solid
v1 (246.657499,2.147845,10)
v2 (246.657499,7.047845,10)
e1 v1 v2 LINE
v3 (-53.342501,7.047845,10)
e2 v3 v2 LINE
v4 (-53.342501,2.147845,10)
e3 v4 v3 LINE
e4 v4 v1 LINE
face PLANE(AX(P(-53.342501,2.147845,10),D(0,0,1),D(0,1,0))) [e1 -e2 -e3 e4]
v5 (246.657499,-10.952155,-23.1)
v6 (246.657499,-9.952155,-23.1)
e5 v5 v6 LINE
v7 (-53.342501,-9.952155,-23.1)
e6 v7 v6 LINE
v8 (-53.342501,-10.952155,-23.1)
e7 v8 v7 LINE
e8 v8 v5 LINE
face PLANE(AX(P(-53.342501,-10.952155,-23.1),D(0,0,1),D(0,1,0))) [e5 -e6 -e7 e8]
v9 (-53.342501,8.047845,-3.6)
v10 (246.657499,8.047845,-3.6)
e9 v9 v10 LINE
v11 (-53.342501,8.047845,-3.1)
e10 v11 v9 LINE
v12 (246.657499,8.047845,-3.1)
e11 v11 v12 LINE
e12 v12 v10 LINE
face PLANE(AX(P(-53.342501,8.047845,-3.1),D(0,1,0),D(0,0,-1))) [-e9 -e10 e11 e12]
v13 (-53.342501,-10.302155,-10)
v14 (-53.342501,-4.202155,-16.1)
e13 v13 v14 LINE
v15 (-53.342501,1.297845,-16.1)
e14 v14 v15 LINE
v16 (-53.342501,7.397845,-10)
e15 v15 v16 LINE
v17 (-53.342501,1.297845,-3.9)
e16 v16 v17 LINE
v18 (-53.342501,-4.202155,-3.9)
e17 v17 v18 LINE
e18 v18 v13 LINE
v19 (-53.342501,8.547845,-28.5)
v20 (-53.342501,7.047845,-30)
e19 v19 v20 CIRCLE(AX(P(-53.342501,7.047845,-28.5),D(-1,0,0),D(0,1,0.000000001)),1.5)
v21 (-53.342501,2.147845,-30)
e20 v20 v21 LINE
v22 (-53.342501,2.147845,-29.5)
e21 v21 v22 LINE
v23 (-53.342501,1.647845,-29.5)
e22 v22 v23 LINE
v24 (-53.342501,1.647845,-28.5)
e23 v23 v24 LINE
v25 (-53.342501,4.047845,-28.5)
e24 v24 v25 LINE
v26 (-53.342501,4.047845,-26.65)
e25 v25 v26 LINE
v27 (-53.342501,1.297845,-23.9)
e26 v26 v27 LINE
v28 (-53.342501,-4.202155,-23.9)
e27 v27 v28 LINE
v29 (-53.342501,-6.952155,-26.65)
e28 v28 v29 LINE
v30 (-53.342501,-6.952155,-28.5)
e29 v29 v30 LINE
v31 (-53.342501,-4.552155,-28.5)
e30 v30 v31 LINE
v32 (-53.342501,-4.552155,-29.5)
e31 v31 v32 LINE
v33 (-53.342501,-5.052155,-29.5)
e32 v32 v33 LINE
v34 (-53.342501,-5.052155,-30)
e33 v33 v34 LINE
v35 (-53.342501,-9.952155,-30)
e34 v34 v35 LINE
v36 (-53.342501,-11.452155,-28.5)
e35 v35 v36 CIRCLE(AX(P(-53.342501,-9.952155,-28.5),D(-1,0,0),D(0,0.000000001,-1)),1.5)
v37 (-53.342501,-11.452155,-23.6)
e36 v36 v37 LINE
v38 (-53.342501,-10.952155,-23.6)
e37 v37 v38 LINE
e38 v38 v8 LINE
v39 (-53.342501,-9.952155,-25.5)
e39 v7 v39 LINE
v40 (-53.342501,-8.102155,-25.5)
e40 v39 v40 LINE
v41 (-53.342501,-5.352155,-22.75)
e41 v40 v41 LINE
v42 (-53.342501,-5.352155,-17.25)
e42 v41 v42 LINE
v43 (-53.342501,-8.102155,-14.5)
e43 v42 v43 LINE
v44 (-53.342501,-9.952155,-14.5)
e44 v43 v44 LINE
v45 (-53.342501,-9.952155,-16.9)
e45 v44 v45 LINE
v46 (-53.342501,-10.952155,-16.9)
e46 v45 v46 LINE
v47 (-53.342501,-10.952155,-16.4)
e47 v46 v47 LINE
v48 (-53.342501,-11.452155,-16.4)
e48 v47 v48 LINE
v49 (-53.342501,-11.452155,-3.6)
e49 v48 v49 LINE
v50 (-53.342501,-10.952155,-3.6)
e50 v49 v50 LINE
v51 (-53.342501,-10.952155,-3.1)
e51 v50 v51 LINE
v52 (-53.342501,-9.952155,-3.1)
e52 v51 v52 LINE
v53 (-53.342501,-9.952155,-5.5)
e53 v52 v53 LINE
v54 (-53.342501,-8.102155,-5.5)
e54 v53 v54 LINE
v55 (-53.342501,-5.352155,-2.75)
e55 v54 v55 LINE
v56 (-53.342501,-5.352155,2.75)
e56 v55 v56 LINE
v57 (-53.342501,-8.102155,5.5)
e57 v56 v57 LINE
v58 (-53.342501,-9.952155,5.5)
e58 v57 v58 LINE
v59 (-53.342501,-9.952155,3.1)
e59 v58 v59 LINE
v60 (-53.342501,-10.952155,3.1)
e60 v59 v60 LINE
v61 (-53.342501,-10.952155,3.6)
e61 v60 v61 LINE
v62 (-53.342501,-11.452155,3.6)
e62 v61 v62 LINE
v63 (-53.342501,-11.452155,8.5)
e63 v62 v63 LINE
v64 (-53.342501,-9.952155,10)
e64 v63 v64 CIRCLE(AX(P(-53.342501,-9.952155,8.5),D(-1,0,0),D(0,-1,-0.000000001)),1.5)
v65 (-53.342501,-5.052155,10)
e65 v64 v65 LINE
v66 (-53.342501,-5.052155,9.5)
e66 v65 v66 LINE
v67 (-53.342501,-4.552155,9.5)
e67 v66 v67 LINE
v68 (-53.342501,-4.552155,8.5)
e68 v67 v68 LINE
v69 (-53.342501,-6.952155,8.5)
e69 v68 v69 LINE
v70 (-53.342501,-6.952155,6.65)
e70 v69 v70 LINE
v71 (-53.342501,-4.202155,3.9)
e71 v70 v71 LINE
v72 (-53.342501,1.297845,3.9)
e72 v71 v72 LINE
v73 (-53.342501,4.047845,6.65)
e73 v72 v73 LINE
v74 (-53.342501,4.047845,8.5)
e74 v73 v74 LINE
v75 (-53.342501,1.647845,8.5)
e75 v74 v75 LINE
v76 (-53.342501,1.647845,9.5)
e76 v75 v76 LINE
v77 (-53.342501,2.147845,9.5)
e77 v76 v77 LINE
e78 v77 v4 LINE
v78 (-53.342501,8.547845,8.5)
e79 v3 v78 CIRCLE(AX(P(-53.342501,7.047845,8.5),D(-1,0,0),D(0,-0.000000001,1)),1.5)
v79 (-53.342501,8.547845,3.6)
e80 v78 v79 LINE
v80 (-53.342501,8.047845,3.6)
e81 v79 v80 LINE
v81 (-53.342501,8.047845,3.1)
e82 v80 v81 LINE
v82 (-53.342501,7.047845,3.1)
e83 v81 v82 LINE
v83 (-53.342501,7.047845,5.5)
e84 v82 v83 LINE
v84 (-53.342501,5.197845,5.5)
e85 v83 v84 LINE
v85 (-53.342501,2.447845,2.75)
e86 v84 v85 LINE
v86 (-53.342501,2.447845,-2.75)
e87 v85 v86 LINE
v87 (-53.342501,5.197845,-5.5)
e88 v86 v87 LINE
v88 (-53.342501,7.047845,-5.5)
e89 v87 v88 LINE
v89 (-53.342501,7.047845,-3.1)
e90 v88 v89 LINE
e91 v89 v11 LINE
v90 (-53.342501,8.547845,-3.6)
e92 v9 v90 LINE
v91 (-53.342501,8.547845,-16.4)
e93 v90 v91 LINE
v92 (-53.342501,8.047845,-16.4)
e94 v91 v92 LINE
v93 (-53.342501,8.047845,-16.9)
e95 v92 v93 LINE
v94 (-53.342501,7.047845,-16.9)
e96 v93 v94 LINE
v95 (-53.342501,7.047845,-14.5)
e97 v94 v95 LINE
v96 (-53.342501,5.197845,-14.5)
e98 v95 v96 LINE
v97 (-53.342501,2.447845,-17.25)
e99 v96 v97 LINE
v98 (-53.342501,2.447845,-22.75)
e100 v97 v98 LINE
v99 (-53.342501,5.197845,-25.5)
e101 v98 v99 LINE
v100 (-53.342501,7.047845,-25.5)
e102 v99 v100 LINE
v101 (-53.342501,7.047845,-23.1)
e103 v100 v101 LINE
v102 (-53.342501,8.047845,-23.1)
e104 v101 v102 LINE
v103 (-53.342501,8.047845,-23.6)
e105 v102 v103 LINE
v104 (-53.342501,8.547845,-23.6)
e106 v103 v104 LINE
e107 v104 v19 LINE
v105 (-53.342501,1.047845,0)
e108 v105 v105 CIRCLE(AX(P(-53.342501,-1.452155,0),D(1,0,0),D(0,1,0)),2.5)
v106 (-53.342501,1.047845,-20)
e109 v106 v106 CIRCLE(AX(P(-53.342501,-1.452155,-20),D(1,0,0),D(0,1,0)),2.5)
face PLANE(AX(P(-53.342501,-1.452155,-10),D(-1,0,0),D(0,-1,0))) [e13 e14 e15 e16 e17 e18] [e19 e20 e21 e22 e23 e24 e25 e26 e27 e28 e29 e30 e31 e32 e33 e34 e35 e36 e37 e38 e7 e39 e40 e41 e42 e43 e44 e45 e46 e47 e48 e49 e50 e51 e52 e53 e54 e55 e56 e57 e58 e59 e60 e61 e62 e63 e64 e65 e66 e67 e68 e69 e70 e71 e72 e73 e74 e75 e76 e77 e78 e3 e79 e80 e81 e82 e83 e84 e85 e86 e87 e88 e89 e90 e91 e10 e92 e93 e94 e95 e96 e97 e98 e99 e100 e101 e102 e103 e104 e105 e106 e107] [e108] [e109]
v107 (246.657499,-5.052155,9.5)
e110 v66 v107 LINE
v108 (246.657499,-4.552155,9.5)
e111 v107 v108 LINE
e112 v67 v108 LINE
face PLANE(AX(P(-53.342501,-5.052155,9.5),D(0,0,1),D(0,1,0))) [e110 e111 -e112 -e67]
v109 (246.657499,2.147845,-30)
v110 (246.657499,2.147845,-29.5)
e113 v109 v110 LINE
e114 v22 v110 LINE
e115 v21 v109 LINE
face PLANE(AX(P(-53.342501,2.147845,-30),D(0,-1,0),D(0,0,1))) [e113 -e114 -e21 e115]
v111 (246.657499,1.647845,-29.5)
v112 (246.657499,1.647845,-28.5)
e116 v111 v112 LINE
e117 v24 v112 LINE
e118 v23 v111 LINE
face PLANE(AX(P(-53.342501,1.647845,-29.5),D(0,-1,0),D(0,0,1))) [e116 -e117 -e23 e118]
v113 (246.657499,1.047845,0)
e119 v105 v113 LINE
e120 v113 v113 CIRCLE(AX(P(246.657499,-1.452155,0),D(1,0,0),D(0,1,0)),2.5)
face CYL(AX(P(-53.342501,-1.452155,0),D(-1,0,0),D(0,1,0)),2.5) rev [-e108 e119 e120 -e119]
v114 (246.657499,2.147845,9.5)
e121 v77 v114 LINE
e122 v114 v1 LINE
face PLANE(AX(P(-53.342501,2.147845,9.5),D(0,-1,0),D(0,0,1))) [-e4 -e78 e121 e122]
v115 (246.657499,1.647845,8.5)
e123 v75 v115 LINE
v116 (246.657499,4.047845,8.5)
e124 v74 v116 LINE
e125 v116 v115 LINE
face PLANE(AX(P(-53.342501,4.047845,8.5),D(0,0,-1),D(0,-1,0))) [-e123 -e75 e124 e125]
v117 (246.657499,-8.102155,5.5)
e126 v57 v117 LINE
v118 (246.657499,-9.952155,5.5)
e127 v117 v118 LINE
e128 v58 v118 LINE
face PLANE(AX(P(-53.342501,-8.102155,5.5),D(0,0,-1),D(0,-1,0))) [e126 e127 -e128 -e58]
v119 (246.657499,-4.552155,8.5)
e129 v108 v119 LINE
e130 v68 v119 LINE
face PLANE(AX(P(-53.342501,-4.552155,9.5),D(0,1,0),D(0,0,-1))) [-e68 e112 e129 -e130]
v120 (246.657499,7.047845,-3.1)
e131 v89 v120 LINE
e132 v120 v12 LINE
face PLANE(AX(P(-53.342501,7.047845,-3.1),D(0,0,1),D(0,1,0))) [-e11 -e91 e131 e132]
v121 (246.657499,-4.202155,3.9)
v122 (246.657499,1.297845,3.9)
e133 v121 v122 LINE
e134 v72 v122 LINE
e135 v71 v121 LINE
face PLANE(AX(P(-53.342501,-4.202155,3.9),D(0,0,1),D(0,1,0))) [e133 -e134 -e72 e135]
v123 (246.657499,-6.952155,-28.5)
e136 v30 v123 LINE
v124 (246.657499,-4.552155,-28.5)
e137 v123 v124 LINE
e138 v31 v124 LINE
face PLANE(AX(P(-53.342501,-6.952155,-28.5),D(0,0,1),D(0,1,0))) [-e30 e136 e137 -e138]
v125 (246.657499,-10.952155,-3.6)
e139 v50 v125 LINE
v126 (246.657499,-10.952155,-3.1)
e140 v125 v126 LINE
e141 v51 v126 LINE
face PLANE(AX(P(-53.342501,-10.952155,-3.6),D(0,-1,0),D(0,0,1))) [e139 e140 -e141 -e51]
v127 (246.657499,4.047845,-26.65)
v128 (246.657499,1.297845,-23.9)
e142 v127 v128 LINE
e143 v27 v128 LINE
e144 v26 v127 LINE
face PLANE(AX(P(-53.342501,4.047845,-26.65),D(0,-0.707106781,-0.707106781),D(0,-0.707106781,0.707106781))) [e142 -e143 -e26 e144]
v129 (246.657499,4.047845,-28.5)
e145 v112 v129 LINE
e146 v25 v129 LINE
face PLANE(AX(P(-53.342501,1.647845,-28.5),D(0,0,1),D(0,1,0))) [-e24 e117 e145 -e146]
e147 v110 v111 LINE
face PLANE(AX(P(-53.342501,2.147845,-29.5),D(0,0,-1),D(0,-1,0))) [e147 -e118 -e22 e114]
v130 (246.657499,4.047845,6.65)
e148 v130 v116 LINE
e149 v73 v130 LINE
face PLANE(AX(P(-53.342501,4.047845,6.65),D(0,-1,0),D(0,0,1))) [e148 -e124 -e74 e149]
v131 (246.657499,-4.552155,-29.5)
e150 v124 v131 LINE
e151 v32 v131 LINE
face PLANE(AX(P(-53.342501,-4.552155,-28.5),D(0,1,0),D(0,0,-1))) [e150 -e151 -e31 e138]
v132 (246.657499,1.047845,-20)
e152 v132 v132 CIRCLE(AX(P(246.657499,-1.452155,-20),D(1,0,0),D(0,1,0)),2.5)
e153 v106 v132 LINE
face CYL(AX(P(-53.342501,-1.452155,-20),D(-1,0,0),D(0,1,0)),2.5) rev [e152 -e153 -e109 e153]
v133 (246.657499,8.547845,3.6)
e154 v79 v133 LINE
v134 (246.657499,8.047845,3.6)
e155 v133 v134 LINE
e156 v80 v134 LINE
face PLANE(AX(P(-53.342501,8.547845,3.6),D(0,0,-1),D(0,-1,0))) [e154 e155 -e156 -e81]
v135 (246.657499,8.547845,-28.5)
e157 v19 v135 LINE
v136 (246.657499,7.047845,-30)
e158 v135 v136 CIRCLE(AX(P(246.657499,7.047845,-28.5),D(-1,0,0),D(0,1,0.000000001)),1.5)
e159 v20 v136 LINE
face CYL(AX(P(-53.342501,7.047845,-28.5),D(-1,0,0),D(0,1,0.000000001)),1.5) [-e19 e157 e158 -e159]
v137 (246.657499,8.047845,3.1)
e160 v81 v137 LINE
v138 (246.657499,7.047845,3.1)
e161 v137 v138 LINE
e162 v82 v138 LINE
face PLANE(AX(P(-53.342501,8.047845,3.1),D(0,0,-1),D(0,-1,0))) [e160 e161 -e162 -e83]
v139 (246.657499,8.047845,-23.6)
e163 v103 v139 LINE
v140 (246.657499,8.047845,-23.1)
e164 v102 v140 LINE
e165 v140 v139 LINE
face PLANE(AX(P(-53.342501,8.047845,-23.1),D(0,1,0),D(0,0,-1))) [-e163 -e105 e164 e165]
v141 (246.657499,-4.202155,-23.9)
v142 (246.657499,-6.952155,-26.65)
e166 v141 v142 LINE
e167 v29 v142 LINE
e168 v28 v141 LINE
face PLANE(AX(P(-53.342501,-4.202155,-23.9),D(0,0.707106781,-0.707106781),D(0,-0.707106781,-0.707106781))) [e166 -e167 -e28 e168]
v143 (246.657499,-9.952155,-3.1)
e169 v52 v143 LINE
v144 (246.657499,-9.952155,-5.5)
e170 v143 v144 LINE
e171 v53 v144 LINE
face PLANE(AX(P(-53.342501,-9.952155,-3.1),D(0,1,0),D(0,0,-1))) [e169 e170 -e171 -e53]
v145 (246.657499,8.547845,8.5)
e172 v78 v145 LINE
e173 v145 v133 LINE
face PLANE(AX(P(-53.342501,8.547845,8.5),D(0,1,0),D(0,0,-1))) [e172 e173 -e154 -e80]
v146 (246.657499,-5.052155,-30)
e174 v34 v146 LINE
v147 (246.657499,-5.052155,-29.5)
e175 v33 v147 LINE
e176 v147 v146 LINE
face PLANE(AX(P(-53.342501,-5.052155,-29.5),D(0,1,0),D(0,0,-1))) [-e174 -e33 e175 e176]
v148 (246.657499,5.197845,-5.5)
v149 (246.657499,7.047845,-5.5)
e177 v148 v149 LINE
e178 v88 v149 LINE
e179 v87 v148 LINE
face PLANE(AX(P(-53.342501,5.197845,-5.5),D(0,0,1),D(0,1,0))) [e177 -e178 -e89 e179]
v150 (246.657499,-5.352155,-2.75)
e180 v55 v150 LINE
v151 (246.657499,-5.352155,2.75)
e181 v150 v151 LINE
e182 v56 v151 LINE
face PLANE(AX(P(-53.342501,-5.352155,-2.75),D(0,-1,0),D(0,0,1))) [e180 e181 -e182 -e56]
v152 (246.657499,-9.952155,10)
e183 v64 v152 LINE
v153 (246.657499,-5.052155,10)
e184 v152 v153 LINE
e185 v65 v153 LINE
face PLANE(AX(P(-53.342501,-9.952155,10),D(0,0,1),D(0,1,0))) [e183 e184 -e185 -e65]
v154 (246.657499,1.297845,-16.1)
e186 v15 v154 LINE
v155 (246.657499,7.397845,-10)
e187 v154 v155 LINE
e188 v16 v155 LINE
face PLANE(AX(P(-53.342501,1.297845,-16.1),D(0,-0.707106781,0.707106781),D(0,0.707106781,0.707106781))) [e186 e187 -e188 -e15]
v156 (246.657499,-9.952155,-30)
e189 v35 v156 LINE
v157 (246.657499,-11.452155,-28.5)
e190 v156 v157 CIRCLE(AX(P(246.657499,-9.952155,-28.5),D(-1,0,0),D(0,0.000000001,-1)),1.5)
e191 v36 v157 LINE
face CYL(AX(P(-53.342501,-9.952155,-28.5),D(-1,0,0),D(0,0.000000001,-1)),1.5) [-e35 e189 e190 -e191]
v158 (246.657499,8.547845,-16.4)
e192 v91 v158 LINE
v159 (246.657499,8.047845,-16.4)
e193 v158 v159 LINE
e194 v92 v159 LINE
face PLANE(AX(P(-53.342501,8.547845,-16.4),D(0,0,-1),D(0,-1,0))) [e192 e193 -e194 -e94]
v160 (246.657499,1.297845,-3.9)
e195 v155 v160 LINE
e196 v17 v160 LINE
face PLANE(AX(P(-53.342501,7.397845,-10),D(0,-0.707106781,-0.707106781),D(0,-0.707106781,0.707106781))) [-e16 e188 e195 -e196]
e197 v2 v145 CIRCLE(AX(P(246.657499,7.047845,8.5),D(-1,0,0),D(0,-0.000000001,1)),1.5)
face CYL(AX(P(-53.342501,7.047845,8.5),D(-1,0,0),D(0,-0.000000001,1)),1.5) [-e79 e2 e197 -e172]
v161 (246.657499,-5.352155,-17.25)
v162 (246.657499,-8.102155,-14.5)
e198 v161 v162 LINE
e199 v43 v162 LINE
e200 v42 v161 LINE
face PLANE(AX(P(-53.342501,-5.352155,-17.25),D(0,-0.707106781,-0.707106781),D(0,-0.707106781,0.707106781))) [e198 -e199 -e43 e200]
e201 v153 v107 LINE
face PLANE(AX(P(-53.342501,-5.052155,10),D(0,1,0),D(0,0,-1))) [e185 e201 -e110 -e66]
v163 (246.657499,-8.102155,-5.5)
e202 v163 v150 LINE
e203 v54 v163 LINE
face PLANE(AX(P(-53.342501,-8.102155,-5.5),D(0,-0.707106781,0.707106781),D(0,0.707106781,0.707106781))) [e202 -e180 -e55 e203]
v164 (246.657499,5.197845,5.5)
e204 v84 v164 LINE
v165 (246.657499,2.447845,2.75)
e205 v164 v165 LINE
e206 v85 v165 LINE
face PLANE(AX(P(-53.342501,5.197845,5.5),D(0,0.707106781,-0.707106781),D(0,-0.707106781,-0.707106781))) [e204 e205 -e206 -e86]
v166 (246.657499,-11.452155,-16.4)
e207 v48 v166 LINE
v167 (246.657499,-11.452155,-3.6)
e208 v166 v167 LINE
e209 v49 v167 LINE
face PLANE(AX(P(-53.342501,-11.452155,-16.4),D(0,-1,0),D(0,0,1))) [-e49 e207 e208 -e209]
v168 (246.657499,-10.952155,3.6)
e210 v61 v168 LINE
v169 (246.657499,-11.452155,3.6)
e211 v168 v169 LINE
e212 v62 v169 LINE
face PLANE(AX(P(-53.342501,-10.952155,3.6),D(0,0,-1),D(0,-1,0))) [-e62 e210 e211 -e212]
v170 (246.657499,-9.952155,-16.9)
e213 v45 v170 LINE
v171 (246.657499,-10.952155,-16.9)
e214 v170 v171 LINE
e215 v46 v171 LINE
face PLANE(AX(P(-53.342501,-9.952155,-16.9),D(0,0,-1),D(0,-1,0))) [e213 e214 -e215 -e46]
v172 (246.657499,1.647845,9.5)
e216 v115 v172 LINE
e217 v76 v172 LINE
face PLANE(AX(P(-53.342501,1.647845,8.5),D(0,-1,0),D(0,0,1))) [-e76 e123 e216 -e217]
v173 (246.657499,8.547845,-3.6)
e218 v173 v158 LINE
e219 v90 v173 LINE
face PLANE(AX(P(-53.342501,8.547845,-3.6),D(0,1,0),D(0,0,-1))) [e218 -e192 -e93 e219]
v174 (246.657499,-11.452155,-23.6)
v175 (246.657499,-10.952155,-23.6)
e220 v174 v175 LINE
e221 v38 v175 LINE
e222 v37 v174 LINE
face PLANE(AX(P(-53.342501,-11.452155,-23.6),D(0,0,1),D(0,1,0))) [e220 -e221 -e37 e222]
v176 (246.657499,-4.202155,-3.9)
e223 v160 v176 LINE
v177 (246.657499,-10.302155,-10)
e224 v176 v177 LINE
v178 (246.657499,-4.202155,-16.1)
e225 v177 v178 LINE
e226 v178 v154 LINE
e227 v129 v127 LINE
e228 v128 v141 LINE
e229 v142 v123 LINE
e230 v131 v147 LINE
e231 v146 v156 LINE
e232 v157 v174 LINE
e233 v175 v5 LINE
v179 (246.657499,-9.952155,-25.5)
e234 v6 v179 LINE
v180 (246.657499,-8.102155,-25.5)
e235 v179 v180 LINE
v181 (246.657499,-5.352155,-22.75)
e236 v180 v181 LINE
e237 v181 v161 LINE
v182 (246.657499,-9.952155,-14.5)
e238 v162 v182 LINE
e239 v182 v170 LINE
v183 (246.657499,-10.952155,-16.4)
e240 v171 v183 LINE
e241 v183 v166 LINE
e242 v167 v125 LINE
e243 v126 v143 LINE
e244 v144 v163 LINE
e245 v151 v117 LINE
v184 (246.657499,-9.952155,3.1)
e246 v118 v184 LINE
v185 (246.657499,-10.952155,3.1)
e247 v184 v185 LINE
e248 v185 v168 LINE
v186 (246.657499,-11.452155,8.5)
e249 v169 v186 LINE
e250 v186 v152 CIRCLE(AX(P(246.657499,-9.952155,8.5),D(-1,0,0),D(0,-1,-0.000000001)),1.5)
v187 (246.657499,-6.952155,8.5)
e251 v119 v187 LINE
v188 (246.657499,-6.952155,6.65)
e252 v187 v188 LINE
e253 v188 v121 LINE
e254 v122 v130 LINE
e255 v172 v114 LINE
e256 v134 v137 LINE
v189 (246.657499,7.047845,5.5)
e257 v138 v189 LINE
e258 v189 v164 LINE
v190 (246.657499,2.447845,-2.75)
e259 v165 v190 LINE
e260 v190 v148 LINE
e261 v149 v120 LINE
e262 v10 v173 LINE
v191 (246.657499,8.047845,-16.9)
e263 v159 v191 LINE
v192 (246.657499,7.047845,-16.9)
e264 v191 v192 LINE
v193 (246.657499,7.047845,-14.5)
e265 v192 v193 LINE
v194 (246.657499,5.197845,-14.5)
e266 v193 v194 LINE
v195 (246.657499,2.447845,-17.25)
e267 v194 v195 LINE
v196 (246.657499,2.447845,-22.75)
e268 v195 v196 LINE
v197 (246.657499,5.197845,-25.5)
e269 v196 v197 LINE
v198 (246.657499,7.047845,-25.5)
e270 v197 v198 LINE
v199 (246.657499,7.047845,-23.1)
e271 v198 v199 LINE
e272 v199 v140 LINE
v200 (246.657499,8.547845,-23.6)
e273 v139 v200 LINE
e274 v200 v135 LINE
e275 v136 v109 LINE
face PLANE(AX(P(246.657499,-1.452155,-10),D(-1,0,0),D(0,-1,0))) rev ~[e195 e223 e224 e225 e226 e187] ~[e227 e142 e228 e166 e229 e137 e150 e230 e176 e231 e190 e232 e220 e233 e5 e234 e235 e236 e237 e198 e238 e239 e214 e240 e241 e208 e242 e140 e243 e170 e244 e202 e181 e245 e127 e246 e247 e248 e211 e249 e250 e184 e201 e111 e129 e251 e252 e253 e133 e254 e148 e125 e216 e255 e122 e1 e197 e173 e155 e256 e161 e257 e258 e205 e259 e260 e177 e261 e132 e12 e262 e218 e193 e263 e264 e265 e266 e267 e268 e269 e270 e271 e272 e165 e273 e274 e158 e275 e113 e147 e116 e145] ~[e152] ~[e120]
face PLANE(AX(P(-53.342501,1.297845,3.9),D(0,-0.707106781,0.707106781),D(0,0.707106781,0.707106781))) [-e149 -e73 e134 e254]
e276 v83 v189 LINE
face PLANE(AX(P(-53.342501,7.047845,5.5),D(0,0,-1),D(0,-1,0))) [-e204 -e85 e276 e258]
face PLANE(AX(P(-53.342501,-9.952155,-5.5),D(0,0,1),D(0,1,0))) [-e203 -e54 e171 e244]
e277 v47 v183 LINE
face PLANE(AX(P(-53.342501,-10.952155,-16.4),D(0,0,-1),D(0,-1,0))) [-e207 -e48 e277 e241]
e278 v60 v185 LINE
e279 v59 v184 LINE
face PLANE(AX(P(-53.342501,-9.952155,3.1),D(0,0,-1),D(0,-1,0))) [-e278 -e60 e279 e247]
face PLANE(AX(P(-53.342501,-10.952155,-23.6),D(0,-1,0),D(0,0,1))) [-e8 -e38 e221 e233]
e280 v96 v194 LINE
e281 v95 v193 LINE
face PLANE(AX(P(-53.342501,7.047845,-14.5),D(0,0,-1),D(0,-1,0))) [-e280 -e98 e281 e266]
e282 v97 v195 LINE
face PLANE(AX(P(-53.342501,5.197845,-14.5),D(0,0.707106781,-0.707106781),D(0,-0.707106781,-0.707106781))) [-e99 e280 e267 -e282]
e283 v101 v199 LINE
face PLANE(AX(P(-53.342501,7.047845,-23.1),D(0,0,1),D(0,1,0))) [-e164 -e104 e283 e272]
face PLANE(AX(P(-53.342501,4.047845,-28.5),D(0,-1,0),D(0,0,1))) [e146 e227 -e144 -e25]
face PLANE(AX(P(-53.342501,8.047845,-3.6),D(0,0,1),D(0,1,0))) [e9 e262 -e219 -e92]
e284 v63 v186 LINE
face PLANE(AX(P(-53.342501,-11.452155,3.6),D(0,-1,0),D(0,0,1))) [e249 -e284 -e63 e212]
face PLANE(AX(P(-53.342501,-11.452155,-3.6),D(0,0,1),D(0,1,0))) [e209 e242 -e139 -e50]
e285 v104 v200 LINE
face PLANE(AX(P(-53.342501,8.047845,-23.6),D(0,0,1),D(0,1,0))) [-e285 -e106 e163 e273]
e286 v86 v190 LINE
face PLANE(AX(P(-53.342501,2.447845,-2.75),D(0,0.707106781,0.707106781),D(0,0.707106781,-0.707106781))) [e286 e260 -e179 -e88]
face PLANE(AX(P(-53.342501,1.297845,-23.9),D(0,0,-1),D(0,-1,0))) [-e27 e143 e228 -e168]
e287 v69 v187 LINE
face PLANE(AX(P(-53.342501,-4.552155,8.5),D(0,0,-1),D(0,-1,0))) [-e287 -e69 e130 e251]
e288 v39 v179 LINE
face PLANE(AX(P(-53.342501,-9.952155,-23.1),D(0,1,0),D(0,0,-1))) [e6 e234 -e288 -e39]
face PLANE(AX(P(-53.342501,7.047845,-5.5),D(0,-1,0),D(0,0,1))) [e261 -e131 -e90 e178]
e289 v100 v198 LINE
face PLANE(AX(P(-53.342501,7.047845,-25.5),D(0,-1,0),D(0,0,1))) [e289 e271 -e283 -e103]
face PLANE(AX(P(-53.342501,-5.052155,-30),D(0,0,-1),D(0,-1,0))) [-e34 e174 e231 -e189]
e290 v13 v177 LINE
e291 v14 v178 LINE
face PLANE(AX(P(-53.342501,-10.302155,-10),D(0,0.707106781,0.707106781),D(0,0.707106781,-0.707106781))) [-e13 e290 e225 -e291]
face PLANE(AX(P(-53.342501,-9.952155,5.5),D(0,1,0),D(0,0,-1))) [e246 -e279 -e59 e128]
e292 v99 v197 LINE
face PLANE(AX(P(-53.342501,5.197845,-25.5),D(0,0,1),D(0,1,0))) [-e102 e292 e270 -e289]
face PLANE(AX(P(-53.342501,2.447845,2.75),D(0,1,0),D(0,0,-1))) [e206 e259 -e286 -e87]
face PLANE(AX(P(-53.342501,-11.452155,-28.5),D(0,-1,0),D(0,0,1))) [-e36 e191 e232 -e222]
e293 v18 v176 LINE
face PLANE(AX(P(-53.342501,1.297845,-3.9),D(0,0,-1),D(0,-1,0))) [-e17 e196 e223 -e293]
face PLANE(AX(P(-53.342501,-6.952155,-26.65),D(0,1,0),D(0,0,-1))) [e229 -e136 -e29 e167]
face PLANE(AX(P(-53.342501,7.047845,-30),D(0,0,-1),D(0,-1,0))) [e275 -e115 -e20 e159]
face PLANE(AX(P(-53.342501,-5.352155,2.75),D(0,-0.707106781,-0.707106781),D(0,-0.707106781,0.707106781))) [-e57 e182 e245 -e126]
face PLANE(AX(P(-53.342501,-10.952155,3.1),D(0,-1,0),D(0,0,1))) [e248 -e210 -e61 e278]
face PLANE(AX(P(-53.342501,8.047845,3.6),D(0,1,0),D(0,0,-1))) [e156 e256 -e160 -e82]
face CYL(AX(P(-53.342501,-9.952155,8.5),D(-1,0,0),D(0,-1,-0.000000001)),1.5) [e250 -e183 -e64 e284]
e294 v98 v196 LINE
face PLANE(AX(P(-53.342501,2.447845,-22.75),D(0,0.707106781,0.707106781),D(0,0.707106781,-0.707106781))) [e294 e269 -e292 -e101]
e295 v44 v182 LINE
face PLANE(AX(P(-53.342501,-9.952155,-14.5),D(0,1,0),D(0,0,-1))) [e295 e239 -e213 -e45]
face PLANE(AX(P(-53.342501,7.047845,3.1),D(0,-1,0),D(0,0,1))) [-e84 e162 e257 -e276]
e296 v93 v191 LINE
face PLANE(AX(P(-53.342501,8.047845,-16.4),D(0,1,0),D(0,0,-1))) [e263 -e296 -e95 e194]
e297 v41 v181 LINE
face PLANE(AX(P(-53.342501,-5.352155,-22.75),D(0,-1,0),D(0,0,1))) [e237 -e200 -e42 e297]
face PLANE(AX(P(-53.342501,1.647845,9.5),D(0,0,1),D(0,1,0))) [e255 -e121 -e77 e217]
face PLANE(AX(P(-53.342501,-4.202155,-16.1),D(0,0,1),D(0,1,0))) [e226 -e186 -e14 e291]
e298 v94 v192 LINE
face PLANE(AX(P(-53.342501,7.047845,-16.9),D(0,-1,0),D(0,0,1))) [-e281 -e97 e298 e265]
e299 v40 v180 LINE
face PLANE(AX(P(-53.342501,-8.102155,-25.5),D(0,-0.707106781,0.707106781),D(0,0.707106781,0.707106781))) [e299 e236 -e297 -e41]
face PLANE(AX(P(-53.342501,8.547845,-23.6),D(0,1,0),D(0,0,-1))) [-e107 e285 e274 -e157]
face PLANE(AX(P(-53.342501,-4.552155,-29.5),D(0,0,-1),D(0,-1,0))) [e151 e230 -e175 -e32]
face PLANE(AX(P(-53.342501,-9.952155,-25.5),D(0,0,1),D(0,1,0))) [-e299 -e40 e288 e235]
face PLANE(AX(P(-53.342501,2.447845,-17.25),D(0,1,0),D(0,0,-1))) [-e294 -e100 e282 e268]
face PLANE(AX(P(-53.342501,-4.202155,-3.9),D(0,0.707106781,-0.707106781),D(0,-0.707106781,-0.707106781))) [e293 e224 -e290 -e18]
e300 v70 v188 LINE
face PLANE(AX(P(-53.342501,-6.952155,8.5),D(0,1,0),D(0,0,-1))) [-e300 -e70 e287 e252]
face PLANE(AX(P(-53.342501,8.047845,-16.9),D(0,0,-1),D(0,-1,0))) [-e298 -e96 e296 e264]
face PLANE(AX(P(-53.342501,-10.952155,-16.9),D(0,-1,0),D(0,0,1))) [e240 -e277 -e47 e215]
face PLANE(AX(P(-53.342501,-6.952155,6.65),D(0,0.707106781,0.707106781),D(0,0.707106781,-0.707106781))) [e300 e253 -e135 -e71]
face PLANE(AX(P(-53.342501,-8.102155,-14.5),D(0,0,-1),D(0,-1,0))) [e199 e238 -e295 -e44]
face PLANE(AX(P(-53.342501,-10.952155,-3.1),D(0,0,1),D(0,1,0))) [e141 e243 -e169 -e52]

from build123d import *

# Parameters (mm, degrees)
SKETCH16_R           = 2.5
F_20X40XR1_5_2_DEPTH = 300


with BuildPart() as part:
    # Sketch16 → 铝型材 20X40XR1.5(2) (new body)
    with BuildSketch(Plane(origin=(-53.342500755, -1.452155193, 0), x_dir=(0, 1, 0), z_dir=(1, 0, 0))):
        with BuildLine():
            Line((-3.6, 10), (-3.6, 9.5))
            Line((-3.6, 9.5), (-3.1, 9.5))
            Line((-3.1, 9.5), (-3.1, 8.5))
            Line((-3.1, 8.5), (-5.5, 8.5))
            Line((-5.5, 8.5), (-5.5, 6.65))
            Line((-5.5, 6.65), (-2.75, 3.9))
            Line((-2.75, 3.9), (2.75, 3.9))
            Line((2.75, 3.9), (5.5, 6.65))
            Line((5.5, 6.65), (5.5, 8.5))
            Line((5.5, 8.5), (3.1, 8.5))
            Line((3.1, 8.5), (3.1, 9.5))
            Line((3.1, 9.5), (3.6, 9.5))
            Line((3.6, 9.5), (3.6, 10))
            Line((3.6, 10), (8.5, 10))
            ThreePointArc((8.5, 10), (9.560660172, 9.560660172), (10, 8.5))
            Line((10, 8.5), (10, 3.6))
            Line((10, 3.6), (9.5, 3.6))
            Line((9.5, 3.6), (9.5, 3.1))
            Line((9.5, 3.1), (8.5, 3.1))
            Line((8.5, 3.1), (8.5, 5.5))
            Line((8.5, 5.5), (6.65, 5.5))
            Line((6.65, 5.5), (3.9, 2.75))
            Line((3.9, 2.75), (3.9, -2.75))
            Line((3.9, -2.75), (6.65, -5.5))
            Line((6.65, -5.5), (8.5, -5.5))
            Line((8.5, -5.5), (8.5, -3.1))
            Line((8.5, -3.1), (9.5, -3.1))
            Line((9.5, -3.1), (9.5, -3.6))
            Line((9.5, -3.6), (10, -3.6))
            Line((10, -3.6), (10, -16.4))
            Line((10, -16.4), (9.5, -16.4))
            Line((9.5, -16.4), (9.5, -16.9))
            Line((9.5, -16.9), (8.5, -16.9))
            Line((8.5, -16.9), (8.5, -14.5))
            Line((8.5, -14.5), (6.65, -14.5))
            Line((6.65, -14.5), (3.9, -17.25))
            Line((3.9, -17.25), (3.9, -22.75))
            Line((3.9, -22.75), (6.65, -25.5))
            Line((6.65, -25.5), (8.5, -25.5))
            Line((8.5, -25.5), (8.5, -23.1))
            Line((8.5, -23.1), (9.5, -23.1))
            Line((9.5, -23.1), (9.5, -23.6))
            Line((9.5, -23.6), (10, -23.6))
            Line((10, -23.6), (10, -28.5))
            ThreePointArc((10, -28.5), (9.560660172, -29.560660172), (8.5, -30))
            Line((8.5, -30), (3.6, -30))
            Line((3.6, -30), (3.6, -29.5))
            Line((3.6, -29.5), (3.1, -29.5))
            Line((3.1, -29.5), (3.1, -28.5))
            Line((3.1, -28.5), (5.5, -28.5))
            Line((5.5, -28.5), (5.5, -26.65))
            Line((5.5, -26.65), (2.75, -23.9))
            Line((2.75, -23.9), (-2.75, -23.9))
            Line((-2.75, -23.9), (-5.5, -26.65))
            Line((-5.5, -26.65), (-5.5, -28.5))
            Line((-5.5, -28.5), (-3.1, -28.5))
            Line((-3.1, -28.5), (-3.1, -29.5))
            Line((-3.1, -29.5), (-3.6, -29.5))
            Line((-3.6, -29.5), (-3.6, -30))
            Line((-3.6, -30), (-8.5, -30))
            ThreePointArc((-8.5, -30), (-9.560660172, -29.560660172), (-10, -28.5))
            Line((-10, -28.5), (-10, -23.6))
            Line((-10, -23.6), (-9.5, -23.6))
            Line((-9.5, -23.6), (-9.5, -23.1))
            Line((-9.5, -23.1), (-8.5, -23.1))
            Line((-8.5, -23.1), (-8.5, -25.5))
            Line((-8.5, -25.5), (-6.65, -25.5))
            Line((-6.65, -25.5), (-3.9, -22.75))
            Line((-3.9, -22.75), (-3.9, -17.25))
            Line((-3.9, -17.25), (-6.65, -14.5))
            Line((-6.65, -14.5), (-8.5, -14.5))
            Line((-8.5, -14.5), (-8.5, -16.9))
            Line((-8.5, -16.9), (-9.5, -16.9))
            Line((-9.5, -16.9), (-9.5, -16.4))
            Line((-9.5, -16.4), (-10, -16.4))
            Line((-10, -16.4), (-10, -3.6))
            Line((-10, -3.6), (-9.5, -3.6))
            Line((-9.5, -3.6), (-9.5, -3.1))
            Line((-9.5, -3.1), (-8.5, -3.1))
            Line((-8.5, -3.1), (-8.5, -5.5))
            Line((-8.5, -5.5), (-6.65, -5.5))
            Line((-6.65, -5.5), (-3.9, -2.75))
            Line((-3.9, -2.75), (-3.9, 2.75))
            Line((-3.9, 2.75), (-6.65, 5.5))
            Line((-6.65, 5.5), (-8.5, 5.5))
            Line((-8.5, 5.5), (-8.5, 3.1))
            Line((-8.5, 3.1), (-9.5, 3.1))
            Line((-9.5, 3.1), (-9.5, 3.6))
            Line((-9.5, 3.6), (-10, 3.6))
            Line((-10, 3.6), (-10, 8.5))
            ThreePointArc((-10, 8.5), (-9.560660172, 9.560660172), (-8.5, 10))
            Line((-8.5, 10), (-3.6, 10))
        make_face()
        Circle(SKETCH16_R, mode=Mode.SUBTRACT)
        with Locations((0, -20)):
            Circle(SKETCH16_R, mode=Mode.SUBTRACT)
        Polygon((8.85, -10), (2.75, -3.9), (-2.75, -3.9), (-8.85, -10), (-2.75, -16.1), (2.75, -16.1), align=None, mode=Mode.SUBTRACT)
    extrude(amount=F_20X40XR1_5_2_DEPTH)


solid = part.part
